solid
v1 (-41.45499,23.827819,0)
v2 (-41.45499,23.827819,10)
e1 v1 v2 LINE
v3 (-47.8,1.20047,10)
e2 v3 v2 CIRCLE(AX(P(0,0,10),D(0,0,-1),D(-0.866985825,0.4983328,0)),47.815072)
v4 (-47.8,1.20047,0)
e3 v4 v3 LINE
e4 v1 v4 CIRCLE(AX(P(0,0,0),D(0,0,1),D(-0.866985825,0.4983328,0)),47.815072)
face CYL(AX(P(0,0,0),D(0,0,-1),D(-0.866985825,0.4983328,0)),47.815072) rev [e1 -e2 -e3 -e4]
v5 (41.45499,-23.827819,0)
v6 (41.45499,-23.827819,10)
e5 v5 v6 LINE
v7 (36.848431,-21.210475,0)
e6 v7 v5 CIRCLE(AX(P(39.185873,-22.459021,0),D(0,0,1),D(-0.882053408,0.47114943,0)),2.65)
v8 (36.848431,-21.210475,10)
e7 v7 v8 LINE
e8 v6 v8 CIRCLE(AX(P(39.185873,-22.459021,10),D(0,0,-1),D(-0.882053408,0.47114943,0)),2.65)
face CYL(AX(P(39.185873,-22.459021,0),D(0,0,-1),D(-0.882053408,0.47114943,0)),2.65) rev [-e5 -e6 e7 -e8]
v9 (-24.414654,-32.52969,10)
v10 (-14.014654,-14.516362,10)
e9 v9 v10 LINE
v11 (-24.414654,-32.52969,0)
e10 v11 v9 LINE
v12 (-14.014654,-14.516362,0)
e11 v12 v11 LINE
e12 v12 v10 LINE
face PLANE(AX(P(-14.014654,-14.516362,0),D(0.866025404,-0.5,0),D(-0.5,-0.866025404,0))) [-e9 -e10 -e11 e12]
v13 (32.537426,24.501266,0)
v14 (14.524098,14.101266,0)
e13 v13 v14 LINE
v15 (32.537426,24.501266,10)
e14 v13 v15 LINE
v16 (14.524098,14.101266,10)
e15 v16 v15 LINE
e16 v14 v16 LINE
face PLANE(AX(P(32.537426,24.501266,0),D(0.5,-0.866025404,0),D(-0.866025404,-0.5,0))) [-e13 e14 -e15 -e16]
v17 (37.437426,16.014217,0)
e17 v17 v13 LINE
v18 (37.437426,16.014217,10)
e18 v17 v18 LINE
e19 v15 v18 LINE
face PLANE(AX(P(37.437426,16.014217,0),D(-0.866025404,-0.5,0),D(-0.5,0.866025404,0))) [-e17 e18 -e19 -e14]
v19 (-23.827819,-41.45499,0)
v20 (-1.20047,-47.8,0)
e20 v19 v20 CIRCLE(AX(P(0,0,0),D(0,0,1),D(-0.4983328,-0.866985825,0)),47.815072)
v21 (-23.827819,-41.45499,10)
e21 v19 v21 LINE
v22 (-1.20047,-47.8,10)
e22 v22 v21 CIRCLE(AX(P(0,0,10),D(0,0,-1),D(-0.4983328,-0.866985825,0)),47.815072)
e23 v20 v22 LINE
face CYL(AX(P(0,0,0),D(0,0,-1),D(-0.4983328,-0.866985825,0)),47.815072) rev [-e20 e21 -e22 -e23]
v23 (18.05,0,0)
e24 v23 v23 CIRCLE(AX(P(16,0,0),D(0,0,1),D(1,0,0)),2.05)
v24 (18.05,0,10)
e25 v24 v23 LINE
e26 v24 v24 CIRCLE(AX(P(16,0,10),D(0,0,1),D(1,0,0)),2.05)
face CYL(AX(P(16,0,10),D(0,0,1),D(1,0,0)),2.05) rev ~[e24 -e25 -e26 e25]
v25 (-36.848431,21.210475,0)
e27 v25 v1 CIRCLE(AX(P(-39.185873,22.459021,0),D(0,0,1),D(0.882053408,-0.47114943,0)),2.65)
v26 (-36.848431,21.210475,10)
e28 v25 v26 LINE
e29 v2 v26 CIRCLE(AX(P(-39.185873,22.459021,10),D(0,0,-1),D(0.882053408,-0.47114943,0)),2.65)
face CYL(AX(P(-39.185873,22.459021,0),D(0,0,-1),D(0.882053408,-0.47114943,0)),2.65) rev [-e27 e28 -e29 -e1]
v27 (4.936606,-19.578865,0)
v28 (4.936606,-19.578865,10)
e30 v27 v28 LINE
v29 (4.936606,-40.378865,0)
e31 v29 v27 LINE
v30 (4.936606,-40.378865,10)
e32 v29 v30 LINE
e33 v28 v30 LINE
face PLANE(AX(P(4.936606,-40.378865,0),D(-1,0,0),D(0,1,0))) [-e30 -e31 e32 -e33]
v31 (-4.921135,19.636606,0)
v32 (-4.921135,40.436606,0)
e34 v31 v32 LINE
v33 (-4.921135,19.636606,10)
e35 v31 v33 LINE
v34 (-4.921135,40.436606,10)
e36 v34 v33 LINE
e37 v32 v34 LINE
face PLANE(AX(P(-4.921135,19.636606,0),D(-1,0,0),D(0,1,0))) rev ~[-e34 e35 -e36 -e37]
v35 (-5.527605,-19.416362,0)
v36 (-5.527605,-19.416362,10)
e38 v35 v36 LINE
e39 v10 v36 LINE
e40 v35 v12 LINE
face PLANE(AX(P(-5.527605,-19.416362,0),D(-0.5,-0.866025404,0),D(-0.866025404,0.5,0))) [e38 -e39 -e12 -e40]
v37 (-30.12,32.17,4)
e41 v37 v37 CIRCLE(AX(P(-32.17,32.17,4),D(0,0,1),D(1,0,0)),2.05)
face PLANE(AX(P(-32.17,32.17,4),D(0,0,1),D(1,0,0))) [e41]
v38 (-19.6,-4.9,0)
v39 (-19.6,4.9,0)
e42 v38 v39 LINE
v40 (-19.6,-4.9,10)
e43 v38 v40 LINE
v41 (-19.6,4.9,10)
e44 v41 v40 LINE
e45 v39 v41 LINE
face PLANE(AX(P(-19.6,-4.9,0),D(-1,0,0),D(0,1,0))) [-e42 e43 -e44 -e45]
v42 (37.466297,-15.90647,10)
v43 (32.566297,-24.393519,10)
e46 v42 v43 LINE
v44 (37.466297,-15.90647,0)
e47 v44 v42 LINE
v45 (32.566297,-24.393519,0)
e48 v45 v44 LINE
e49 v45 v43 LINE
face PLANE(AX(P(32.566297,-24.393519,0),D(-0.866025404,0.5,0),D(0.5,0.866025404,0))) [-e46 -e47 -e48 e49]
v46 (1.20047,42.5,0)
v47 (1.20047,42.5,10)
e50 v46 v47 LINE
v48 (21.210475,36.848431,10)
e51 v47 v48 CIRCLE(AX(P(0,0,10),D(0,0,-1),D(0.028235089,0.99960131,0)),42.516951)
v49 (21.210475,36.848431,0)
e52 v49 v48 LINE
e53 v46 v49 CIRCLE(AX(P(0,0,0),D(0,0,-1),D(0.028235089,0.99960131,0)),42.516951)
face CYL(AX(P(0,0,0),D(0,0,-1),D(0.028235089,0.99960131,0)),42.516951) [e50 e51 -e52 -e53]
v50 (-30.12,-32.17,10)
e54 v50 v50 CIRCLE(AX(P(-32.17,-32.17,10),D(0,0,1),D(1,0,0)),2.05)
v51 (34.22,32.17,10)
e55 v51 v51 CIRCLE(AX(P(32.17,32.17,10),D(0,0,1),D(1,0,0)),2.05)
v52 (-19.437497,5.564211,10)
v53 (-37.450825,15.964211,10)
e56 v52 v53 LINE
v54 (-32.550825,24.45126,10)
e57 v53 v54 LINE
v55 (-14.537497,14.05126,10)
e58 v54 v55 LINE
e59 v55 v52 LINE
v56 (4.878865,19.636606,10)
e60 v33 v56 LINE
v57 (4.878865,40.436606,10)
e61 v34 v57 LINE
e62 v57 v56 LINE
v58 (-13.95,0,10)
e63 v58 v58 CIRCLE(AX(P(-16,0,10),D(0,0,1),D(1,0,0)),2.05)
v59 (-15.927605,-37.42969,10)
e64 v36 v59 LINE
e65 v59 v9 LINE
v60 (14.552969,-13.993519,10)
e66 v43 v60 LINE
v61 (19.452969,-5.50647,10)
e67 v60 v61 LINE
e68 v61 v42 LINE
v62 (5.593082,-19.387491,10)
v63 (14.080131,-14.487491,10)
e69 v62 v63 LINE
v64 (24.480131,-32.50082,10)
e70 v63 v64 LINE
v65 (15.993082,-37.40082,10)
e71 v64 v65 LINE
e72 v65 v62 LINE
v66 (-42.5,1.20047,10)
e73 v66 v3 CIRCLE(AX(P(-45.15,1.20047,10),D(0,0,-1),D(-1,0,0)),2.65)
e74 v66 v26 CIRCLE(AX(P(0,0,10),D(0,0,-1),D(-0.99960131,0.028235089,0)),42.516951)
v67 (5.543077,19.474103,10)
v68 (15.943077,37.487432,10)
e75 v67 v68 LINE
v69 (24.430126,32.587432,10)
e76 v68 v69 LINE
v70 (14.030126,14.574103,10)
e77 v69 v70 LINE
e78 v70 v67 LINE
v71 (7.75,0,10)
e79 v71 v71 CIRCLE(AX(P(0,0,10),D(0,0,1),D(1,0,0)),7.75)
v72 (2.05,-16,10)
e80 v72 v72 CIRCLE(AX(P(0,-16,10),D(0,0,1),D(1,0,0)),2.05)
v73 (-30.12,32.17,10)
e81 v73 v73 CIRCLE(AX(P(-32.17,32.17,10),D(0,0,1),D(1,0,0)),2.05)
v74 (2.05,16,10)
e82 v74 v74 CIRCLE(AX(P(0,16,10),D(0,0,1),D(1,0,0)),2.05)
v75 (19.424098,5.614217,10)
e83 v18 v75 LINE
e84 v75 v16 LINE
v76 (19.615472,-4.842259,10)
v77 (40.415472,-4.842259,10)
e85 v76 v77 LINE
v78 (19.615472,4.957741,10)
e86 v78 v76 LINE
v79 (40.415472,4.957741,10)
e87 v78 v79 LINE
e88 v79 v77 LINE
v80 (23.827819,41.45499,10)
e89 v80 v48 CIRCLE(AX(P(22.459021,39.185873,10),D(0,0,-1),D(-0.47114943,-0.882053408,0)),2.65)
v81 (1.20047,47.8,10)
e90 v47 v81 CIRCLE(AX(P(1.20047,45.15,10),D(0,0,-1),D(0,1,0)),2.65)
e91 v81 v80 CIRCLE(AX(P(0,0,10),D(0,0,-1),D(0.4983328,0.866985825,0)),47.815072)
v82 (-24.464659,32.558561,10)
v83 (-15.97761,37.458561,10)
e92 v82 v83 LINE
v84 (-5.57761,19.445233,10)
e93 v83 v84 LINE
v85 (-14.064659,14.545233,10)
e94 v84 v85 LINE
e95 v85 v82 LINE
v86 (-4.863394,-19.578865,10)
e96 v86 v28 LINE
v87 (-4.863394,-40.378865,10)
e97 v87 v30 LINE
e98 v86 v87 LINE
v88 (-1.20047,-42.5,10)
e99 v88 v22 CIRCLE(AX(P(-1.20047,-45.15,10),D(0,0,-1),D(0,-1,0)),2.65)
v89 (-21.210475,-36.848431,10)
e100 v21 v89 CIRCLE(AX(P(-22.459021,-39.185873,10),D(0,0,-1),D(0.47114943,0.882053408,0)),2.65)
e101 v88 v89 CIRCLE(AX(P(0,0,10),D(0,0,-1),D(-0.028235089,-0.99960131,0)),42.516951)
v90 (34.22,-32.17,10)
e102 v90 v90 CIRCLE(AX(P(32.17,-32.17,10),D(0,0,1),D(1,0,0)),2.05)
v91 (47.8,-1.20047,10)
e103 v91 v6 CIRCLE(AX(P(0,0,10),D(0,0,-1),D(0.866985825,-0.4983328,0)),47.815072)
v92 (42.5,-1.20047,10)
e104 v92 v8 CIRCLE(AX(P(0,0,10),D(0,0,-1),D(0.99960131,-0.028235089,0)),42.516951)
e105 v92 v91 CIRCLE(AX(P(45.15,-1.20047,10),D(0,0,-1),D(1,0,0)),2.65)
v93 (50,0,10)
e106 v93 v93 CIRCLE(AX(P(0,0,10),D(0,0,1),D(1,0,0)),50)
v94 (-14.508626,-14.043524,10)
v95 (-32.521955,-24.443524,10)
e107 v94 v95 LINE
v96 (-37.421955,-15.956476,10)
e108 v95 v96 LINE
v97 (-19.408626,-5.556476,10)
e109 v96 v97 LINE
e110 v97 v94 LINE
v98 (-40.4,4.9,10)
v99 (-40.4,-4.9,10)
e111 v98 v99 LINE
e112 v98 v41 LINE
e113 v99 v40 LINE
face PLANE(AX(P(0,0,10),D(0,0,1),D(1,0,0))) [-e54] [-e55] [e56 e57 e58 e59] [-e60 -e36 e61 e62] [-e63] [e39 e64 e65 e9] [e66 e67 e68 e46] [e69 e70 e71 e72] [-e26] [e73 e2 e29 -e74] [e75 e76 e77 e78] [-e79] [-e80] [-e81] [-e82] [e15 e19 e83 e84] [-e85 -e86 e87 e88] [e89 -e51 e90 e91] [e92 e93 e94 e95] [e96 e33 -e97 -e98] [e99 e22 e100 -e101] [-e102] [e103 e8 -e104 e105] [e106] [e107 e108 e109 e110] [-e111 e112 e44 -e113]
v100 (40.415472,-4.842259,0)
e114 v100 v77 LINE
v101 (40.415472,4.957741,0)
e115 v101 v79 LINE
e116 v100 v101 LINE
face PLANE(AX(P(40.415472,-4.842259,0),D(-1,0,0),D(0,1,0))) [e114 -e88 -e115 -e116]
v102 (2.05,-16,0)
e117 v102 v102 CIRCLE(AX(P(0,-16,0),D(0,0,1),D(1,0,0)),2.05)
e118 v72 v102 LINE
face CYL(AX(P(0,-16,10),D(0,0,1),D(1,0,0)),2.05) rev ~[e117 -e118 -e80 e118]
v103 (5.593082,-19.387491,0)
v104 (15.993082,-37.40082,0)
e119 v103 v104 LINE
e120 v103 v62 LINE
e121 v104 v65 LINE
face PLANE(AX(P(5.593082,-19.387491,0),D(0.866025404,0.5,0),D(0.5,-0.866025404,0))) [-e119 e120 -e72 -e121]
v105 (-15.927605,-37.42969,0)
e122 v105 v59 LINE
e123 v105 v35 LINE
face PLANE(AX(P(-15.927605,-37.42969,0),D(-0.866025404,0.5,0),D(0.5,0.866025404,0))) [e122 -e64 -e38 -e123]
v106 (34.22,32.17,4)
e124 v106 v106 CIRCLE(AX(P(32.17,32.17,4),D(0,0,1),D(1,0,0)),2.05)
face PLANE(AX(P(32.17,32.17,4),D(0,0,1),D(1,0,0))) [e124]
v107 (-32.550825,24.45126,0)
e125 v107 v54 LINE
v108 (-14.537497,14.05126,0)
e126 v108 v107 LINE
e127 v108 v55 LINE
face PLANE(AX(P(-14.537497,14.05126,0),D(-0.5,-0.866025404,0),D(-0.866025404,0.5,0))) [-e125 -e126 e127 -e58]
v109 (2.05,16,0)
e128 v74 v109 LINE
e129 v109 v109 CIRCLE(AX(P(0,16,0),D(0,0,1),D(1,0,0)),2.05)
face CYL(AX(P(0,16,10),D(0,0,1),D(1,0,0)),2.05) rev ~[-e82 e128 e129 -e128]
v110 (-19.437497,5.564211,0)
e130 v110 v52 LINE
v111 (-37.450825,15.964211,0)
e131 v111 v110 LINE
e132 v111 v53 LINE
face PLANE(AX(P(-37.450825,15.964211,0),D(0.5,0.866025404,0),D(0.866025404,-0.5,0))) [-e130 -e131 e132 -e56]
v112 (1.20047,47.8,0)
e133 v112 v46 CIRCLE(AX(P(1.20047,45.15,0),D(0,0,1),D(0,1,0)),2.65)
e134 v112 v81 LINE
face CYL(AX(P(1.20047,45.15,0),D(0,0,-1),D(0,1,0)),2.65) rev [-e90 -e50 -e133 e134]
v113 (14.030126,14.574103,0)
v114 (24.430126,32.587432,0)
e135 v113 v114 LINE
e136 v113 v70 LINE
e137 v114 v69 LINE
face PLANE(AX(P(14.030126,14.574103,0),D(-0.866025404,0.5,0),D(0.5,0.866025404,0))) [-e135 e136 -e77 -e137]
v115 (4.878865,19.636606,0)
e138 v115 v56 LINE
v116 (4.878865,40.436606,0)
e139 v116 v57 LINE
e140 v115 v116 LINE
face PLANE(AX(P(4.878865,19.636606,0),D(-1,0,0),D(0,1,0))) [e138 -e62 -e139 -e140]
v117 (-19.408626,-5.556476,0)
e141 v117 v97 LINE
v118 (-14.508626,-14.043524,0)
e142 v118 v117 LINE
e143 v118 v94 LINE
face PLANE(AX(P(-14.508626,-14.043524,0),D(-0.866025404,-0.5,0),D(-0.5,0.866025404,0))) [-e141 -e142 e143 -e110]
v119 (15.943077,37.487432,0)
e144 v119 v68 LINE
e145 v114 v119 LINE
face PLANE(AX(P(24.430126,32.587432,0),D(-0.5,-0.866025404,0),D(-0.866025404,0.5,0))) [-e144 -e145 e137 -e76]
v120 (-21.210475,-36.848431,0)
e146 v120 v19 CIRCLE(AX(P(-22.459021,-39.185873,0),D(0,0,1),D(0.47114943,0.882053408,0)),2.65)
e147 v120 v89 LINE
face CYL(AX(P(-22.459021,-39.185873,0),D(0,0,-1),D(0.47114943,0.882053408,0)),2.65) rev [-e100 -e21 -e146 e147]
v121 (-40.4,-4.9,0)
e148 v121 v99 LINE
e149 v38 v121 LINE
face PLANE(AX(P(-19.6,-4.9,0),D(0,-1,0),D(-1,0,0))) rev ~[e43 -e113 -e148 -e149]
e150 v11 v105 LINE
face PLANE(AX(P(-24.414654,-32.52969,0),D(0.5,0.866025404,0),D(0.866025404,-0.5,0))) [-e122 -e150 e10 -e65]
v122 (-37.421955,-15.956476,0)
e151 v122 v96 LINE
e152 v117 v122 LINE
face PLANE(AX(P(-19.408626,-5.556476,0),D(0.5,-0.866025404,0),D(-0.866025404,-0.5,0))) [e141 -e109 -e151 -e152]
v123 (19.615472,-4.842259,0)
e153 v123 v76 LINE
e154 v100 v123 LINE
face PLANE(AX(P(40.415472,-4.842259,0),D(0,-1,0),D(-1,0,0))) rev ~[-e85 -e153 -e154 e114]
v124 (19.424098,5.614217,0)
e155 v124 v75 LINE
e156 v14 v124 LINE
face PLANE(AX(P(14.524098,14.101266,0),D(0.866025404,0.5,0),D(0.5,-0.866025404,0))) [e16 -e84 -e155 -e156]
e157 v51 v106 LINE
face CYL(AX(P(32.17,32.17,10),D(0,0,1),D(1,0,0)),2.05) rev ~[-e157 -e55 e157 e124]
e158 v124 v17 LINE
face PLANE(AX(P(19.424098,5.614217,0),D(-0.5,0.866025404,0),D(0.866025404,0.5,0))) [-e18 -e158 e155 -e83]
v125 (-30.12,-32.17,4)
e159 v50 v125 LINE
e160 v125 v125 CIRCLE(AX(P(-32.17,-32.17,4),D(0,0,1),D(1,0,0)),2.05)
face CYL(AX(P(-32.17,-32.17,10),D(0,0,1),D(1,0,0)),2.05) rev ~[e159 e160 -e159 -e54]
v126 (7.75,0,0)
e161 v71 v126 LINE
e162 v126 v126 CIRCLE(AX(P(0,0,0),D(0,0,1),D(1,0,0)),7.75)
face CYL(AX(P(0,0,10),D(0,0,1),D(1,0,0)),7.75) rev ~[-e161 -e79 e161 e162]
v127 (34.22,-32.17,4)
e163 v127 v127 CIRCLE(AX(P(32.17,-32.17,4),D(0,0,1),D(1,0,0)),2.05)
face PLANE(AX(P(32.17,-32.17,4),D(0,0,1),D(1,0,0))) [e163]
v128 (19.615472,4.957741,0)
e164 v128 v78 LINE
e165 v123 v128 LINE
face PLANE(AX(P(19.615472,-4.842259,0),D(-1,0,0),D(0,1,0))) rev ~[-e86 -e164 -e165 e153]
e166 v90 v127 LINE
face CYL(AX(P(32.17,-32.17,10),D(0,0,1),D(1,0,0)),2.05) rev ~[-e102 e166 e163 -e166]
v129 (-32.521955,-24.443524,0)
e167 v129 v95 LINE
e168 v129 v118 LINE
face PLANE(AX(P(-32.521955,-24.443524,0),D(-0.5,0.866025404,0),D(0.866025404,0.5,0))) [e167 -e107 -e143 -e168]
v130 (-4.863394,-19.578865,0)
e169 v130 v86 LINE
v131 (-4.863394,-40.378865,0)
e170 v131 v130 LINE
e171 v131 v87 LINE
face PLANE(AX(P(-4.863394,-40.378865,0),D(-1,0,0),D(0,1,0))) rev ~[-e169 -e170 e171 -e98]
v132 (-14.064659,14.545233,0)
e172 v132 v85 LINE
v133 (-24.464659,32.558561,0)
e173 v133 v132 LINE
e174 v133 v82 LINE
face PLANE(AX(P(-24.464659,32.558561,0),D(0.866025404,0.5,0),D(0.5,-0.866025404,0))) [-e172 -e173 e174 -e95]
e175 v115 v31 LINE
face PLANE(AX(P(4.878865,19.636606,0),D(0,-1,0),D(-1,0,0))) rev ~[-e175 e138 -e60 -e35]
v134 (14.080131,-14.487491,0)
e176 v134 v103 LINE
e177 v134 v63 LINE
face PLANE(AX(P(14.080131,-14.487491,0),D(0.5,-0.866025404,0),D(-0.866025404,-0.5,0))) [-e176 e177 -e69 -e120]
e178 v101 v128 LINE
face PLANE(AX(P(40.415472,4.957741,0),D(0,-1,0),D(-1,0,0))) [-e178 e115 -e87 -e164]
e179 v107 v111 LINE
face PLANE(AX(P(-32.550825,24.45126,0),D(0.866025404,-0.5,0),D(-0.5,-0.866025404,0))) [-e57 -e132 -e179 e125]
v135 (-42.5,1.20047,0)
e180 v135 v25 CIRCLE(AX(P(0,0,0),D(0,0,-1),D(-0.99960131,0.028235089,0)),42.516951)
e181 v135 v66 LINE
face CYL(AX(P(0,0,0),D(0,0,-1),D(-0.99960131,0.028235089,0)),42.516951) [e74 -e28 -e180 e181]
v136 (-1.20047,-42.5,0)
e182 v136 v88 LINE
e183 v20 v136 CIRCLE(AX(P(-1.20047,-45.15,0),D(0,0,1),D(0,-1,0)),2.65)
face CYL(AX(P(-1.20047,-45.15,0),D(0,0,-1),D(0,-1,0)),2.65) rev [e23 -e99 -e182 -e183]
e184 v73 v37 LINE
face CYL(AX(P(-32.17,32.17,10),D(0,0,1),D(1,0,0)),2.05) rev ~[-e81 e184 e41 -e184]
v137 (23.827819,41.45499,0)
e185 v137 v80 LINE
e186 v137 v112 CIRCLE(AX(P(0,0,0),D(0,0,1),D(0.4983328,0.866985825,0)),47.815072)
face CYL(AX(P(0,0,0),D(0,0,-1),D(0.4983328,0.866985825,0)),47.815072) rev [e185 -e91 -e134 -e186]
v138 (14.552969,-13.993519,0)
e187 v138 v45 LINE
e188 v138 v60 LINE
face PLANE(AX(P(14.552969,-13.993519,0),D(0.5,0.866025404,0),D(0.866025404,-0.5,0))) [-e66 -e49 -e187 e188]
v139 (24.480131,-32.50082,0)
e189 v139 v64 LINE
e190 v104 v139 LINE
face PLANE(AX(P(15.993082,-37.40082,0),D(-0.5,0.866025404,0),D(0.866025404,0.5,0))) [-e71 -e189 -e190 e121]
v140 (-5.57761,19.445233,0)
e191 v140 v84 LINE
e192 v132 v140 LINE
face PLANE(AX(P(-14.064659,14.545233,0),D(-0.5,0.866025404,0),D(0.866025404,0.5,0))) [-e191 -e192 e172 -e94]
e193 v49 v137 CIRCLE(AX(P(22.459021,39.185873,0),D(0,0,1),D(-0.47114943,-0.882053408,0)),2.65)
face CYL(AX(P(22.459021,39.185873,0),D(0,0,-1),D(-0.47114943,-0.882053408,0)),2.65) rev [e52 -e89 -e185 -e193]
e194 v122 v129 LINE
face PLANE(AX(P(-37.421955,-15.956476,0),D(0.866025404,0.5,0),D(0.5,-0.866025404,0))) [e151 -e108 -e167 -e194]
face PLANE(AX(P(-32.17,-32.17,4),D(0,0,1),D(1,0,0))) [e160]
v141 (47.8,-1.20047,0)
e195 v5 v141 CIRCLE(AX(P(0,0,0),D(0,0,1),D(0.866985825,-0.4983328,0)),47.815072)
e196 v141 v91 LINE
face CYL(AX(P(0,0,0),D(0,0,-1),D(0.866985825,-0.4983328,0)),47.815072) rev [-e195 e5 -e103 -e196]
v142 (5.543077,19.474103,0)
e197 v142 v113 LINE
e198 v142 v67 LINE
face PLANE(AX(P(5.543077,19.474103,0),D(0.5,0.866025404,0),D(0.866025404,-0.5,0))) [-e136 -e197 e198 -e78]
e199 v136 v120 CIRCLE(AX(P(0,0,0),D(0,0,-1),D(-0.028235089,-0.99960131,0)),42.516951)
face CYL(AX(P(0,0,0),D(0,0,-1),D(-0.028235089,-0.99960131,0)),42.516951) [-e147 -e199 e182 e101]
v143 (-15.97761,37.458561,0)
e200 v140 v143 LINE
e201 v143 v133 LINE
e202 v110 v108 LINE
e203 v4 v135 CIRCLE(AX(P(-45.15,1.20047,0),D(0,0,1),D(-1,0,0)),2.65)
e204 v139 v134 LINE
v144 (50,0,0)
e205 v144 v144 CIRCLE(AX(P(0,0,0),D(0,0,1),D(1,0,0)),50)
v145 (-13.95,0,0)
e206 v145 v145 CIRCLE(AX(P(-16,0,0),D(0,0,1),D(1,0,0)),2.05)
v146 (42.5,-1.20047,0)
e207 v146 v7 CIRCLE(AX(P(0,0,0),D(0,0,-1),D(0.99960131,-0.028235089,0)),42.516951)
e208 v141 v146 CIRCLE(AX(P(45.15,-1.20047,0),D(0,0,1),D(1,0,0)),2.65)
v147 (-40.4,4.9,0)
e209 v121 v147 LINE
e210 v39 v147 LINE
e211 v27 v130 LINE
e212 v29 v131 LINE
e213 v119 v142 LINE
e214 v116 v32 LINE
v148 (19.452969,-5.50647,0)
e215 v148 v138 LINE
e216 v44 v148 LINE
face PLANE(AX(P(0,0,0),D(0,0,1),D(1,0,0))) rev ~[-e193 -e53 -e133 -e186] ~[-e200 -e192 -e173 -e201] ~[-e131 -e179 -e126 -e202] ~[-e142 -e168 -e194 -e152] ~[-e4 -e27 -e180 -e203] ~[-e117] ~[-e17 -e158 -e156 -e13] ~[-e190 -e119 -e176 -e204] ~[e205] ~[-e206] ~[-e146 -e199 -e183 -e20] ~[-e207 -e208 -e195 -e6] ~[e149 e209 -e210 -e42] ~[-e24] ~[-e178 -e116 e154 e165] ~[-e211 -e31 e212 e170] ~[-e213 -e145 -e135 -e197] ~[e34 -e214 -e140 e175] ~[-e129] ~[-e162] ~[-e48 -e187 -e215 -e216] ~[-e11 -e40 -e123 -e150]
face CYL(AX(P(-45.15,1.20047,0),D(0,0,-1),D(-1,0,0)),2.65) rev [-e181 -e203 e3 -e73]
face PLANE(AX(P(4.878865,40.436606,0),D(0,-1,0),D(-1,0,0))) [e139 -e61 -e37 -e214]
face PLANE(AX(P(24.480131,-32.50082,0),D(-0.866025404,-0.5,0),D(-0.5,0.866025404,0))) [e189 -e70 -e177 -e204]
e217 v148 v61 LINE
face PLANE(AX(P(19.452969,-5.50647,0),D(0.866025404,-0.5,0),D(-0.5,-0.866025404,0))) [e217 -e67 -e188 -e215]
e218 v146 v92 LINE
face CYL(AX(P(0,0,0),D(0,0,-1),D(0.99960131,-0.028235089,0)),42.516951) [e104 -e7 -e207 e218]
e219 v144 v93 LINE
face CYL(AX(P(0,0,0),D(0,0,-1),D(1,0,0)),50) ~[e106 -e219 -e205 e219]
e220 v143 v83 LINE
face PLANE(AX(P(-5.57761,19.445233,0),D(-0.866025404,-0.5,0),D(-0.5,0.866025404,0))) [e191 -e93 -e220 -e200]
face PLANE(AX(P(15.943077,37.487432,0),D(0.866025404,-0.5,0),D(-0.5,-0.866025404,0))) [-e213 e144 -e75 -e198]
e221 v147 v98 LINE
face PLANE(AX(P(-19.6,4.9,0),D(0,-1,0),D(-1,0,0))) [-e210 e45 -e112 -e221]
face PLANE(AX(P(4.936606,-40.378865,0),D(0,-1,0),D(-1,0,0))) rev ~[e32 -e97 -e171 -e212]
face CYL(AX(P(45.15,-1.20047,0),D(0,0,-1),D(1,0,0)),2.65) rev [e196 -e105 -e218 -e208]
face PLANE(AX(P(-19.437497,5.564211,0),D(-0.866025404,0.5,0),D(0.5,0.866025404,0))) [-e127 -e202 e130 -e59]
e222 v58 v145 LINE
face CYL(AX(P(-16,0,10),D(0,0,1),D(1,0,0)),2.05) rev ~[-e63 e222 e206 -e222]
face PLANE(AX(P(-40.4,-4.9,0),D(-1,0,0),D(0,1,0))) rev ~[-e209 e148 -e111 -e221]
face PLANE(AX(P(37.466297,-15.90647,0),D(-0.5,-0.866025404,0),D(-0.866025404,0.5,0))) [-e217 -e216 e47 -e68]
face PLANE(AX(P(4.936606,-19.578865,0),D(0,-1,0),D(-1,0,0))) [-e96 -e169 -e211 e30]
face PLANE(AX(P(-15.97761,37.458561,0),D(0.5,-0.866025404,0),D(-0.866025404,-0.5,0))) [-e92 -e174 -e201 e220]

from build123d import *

# Parameters (mm, degrees)
CROQUIS2_R              = 50
SALIENTE_EXTRUIR1_DEPTH = 10
CROQUIS1_W              = 9.8
CROQUIS1_H              = 20.8
CROQUIS1_W_2            = 20.8
CROQUIS1_H_2            = 9.8
CORTAR_EXTRUIR3_DEPTH   = 72.414284285
CROQUIS4_R              = 7.75
CORTAR_EXTRUIR4_DEPTH   = 10
CROQUIS5_R              = 2.05
CORTAR_EXTRUIR5_DEPTH   = 10
CROQUIS6_R              = 2.05
CORTAR_EXTRUIR6_DEPTH   = 6


with BuildPart() as part:
    # Croquis2 → Saliente-Extruir1 (new body)
    with BuildSketch(Plane(origin=(0, 0, 0), x_dir=(0, 1, 0), z_dir=(0, 0, 1))):
        with Locations(Location((0, 0, 0), (0, 0, 270))):
            Circle(CROQUIS2_R)
    extrude(amount=SALIENTE_EXTRUIR1_DEPTH)

    # Croquis1 → Cortar-Extruir3 (cut, through all)
    with BuildSketch(Plane(origin=(0, 0, 0), x_dir=(0, 1, 0), z_dir=(0, 0, 1))):
        Polygon((15.964211374, 37.450825203), (5.564211374, 19.437496804), (14.051260331, 14.537496804), (24.451260331, 32.550825203), align=None)
        with Locations((0, 30)):
            Rectangle(CROQUIS1_W, CROQUIS1_H)
        Polygon((32.558561056, 24.464659221), (14.545232657, 14.064659221), (19.445232657, 5.577610264), (37.458561056, 15.977610264), align=None)
        with Locations((30.036606449, 0.021134743)):
            Rectangle(CROQUIS1_W_2, CROQUIS1_H_2)
        Polygon((37.487431651, -15.943076631), (19.474103253, -5.543076631), (14.574103253, -14.030125588), (32.587431651, -24.430125588), align=None)
        Polygon((24.50126567, -32.537426313), (14.10126567, -14.524097914), (5.614216713, -19.424097914), (16.014216713, -37.437426313), align=None)
        with Locations((0.057741191, -30.015471706)):
            Rectangle(CROQUIS1_W, CROQUIS1_H)
        Polygon((-15.906470183, -37.466296909), (-5.506470183, -19.45296851), (-13.99351914, -14.55296851), (-24.39351914, -32.566296909), align=None)
        Polygon((-32.500819864, -24.480130927), (-14.487491466, -14.080130927), (-19.387491466, -5.59308197), (-37.400819864, -15.99308197), align=None)
        with Locations((-29.978865257, -0.036606449)):
            Rectangle(CROQUIS1_W_2, CROQUIS1_H_2)
        Polygon((-37.42969046, 15.927604926), (-19.416362061, 5.527604926), (-14.516362061, 14.014653883), (-32.52969046, 24.414653883), align=None)
        Polygon((-24.443524479, 32.521954607), (-14.043524479, 14.508626209), (-5.556475521, 19.408626209), (-15.956475521, 37.421954607), align=None)
        with BuildLine():
            ThreePointArc((47.8, -1.200469891), (45.15, 1.449530109), (42.5, -1.200469891))
            ThreePointArc((42.5, -1.200469891), (40.916298266, -11.556282456), (36.848431426, -21.210474521))
            ThreePointArc((36.848431426, -21.210474521), (37.876754986, -24.76308434), (41.454989786, -23.827818822))
            ThreePointArc((41.454989786, -23.827818822), (46.039249889, -12.910019273), (47.8, -1.200469891))
        make_face()
        with BuildLine():
            ThreePointArc((1.200469891, 47.8), (-1.449530109, 45.15), (1.200469891, 42.5))
            ThreePointArc((1.200469891, 42.5), (11.556282456, 40.916298266), (21.210474521, 36.848431426))
            ThreePointArc((21.210474521, 36.848431426), (24.76308434, 37.876754986), (23.827818822, 41.454989786))
            ThreePointArc((23.827818822, 41.454989786), (12.910019273, 46.039249889), (1.200469891, 47.8))
        make_face()
        with BuildLine():
            ThreePointArc((-1.200469891, -47.8), (1.449530109, -45.15), (-1.200469891, -42.5))
            ThreePointArc((-1.200469891, -42.5), (-11.556282456, -40.916298266), (-21.210474521, -36.848431426))
            ThreePointArc((-21.210474521, -36.848431426), (-24.76308434, -37.876754986), (-23.827818822, -41.454989786))
            ThreePointArc((-23.827818822, -41.454989786), (-12.910019273, -46.039249889), (-1.200469891, -47.8))
        make_face()
        with BuildLine():
            ThreePointArc((-47.8, 1.200469891), (-45.15, -1.449530109), (-42.5, 1.200469891))
            ThreePointArc((-42.5, 1.200469891), (-40.916298266, 11.556282456), (-36.848431426, 21.210474521))
            ThreePointArc((-36.848431426, 21.210474521), (-37.876754986, 24.76308434), (-41.454989786, 23.827818822))
            ThreePointArc((-41.454989786, 23.827818822), (-46.039249889, 12.910019273), (-47.8, 1.200469891))
        make_face()
    extrude(amount=CORTAR_EXTRUIR3_DEPTH, mode=Mode.SUBTRACT)

    # Croquis4 → Cortar-Extruir4 (cut)
    with BuildSketch(Plane.XY.offset(10)):
        Circle(CROQUIS4_R)
    extrude(amount=-CORTAR_EXTRUIR4_DEPTH, mode=Mode.SUBTRACT)

    # Croquis5 → Cortar-Extruir5 (cut)
    with BuildSketch(Plane.XY.offset(10)):
        with Locations((0, 16)):
            Circle(CROQUIS5_R)
        with Locations((16, 0)):
            Circle(CROQUIS5_R)
        with Locations((0, -16)):
            Circle(CROQUIS5_R)
        with Locations((-16, 0)):
            Circle(CROQUIS5_R)
    extrude(amount=-CORTAR_EXTRUIR5_DEPTH, mode=Mode.SUBTRACT)

    # Croquis6 → Cortar-Extruir6 (cut)
    with BuildSketch(Plane.XY.offset(10)):
        with Locations((-32.17, 32.17)):
            Circle(CROQUIS6_R)
        with Locations((32.17, 32.17)):
            Circle(CROQUIS6_R)
        with Locations((32.17, -32.17)):
            Circle(CROQUIS6_R)
        with Locations((-32.17, -32.17)):
            Circle(CROQUIS6_R)
    extrude(amount=-CORTAR_EXTRUIR6_DEPTH, mode=Mode.SUBTRACT)


solid = part.part
